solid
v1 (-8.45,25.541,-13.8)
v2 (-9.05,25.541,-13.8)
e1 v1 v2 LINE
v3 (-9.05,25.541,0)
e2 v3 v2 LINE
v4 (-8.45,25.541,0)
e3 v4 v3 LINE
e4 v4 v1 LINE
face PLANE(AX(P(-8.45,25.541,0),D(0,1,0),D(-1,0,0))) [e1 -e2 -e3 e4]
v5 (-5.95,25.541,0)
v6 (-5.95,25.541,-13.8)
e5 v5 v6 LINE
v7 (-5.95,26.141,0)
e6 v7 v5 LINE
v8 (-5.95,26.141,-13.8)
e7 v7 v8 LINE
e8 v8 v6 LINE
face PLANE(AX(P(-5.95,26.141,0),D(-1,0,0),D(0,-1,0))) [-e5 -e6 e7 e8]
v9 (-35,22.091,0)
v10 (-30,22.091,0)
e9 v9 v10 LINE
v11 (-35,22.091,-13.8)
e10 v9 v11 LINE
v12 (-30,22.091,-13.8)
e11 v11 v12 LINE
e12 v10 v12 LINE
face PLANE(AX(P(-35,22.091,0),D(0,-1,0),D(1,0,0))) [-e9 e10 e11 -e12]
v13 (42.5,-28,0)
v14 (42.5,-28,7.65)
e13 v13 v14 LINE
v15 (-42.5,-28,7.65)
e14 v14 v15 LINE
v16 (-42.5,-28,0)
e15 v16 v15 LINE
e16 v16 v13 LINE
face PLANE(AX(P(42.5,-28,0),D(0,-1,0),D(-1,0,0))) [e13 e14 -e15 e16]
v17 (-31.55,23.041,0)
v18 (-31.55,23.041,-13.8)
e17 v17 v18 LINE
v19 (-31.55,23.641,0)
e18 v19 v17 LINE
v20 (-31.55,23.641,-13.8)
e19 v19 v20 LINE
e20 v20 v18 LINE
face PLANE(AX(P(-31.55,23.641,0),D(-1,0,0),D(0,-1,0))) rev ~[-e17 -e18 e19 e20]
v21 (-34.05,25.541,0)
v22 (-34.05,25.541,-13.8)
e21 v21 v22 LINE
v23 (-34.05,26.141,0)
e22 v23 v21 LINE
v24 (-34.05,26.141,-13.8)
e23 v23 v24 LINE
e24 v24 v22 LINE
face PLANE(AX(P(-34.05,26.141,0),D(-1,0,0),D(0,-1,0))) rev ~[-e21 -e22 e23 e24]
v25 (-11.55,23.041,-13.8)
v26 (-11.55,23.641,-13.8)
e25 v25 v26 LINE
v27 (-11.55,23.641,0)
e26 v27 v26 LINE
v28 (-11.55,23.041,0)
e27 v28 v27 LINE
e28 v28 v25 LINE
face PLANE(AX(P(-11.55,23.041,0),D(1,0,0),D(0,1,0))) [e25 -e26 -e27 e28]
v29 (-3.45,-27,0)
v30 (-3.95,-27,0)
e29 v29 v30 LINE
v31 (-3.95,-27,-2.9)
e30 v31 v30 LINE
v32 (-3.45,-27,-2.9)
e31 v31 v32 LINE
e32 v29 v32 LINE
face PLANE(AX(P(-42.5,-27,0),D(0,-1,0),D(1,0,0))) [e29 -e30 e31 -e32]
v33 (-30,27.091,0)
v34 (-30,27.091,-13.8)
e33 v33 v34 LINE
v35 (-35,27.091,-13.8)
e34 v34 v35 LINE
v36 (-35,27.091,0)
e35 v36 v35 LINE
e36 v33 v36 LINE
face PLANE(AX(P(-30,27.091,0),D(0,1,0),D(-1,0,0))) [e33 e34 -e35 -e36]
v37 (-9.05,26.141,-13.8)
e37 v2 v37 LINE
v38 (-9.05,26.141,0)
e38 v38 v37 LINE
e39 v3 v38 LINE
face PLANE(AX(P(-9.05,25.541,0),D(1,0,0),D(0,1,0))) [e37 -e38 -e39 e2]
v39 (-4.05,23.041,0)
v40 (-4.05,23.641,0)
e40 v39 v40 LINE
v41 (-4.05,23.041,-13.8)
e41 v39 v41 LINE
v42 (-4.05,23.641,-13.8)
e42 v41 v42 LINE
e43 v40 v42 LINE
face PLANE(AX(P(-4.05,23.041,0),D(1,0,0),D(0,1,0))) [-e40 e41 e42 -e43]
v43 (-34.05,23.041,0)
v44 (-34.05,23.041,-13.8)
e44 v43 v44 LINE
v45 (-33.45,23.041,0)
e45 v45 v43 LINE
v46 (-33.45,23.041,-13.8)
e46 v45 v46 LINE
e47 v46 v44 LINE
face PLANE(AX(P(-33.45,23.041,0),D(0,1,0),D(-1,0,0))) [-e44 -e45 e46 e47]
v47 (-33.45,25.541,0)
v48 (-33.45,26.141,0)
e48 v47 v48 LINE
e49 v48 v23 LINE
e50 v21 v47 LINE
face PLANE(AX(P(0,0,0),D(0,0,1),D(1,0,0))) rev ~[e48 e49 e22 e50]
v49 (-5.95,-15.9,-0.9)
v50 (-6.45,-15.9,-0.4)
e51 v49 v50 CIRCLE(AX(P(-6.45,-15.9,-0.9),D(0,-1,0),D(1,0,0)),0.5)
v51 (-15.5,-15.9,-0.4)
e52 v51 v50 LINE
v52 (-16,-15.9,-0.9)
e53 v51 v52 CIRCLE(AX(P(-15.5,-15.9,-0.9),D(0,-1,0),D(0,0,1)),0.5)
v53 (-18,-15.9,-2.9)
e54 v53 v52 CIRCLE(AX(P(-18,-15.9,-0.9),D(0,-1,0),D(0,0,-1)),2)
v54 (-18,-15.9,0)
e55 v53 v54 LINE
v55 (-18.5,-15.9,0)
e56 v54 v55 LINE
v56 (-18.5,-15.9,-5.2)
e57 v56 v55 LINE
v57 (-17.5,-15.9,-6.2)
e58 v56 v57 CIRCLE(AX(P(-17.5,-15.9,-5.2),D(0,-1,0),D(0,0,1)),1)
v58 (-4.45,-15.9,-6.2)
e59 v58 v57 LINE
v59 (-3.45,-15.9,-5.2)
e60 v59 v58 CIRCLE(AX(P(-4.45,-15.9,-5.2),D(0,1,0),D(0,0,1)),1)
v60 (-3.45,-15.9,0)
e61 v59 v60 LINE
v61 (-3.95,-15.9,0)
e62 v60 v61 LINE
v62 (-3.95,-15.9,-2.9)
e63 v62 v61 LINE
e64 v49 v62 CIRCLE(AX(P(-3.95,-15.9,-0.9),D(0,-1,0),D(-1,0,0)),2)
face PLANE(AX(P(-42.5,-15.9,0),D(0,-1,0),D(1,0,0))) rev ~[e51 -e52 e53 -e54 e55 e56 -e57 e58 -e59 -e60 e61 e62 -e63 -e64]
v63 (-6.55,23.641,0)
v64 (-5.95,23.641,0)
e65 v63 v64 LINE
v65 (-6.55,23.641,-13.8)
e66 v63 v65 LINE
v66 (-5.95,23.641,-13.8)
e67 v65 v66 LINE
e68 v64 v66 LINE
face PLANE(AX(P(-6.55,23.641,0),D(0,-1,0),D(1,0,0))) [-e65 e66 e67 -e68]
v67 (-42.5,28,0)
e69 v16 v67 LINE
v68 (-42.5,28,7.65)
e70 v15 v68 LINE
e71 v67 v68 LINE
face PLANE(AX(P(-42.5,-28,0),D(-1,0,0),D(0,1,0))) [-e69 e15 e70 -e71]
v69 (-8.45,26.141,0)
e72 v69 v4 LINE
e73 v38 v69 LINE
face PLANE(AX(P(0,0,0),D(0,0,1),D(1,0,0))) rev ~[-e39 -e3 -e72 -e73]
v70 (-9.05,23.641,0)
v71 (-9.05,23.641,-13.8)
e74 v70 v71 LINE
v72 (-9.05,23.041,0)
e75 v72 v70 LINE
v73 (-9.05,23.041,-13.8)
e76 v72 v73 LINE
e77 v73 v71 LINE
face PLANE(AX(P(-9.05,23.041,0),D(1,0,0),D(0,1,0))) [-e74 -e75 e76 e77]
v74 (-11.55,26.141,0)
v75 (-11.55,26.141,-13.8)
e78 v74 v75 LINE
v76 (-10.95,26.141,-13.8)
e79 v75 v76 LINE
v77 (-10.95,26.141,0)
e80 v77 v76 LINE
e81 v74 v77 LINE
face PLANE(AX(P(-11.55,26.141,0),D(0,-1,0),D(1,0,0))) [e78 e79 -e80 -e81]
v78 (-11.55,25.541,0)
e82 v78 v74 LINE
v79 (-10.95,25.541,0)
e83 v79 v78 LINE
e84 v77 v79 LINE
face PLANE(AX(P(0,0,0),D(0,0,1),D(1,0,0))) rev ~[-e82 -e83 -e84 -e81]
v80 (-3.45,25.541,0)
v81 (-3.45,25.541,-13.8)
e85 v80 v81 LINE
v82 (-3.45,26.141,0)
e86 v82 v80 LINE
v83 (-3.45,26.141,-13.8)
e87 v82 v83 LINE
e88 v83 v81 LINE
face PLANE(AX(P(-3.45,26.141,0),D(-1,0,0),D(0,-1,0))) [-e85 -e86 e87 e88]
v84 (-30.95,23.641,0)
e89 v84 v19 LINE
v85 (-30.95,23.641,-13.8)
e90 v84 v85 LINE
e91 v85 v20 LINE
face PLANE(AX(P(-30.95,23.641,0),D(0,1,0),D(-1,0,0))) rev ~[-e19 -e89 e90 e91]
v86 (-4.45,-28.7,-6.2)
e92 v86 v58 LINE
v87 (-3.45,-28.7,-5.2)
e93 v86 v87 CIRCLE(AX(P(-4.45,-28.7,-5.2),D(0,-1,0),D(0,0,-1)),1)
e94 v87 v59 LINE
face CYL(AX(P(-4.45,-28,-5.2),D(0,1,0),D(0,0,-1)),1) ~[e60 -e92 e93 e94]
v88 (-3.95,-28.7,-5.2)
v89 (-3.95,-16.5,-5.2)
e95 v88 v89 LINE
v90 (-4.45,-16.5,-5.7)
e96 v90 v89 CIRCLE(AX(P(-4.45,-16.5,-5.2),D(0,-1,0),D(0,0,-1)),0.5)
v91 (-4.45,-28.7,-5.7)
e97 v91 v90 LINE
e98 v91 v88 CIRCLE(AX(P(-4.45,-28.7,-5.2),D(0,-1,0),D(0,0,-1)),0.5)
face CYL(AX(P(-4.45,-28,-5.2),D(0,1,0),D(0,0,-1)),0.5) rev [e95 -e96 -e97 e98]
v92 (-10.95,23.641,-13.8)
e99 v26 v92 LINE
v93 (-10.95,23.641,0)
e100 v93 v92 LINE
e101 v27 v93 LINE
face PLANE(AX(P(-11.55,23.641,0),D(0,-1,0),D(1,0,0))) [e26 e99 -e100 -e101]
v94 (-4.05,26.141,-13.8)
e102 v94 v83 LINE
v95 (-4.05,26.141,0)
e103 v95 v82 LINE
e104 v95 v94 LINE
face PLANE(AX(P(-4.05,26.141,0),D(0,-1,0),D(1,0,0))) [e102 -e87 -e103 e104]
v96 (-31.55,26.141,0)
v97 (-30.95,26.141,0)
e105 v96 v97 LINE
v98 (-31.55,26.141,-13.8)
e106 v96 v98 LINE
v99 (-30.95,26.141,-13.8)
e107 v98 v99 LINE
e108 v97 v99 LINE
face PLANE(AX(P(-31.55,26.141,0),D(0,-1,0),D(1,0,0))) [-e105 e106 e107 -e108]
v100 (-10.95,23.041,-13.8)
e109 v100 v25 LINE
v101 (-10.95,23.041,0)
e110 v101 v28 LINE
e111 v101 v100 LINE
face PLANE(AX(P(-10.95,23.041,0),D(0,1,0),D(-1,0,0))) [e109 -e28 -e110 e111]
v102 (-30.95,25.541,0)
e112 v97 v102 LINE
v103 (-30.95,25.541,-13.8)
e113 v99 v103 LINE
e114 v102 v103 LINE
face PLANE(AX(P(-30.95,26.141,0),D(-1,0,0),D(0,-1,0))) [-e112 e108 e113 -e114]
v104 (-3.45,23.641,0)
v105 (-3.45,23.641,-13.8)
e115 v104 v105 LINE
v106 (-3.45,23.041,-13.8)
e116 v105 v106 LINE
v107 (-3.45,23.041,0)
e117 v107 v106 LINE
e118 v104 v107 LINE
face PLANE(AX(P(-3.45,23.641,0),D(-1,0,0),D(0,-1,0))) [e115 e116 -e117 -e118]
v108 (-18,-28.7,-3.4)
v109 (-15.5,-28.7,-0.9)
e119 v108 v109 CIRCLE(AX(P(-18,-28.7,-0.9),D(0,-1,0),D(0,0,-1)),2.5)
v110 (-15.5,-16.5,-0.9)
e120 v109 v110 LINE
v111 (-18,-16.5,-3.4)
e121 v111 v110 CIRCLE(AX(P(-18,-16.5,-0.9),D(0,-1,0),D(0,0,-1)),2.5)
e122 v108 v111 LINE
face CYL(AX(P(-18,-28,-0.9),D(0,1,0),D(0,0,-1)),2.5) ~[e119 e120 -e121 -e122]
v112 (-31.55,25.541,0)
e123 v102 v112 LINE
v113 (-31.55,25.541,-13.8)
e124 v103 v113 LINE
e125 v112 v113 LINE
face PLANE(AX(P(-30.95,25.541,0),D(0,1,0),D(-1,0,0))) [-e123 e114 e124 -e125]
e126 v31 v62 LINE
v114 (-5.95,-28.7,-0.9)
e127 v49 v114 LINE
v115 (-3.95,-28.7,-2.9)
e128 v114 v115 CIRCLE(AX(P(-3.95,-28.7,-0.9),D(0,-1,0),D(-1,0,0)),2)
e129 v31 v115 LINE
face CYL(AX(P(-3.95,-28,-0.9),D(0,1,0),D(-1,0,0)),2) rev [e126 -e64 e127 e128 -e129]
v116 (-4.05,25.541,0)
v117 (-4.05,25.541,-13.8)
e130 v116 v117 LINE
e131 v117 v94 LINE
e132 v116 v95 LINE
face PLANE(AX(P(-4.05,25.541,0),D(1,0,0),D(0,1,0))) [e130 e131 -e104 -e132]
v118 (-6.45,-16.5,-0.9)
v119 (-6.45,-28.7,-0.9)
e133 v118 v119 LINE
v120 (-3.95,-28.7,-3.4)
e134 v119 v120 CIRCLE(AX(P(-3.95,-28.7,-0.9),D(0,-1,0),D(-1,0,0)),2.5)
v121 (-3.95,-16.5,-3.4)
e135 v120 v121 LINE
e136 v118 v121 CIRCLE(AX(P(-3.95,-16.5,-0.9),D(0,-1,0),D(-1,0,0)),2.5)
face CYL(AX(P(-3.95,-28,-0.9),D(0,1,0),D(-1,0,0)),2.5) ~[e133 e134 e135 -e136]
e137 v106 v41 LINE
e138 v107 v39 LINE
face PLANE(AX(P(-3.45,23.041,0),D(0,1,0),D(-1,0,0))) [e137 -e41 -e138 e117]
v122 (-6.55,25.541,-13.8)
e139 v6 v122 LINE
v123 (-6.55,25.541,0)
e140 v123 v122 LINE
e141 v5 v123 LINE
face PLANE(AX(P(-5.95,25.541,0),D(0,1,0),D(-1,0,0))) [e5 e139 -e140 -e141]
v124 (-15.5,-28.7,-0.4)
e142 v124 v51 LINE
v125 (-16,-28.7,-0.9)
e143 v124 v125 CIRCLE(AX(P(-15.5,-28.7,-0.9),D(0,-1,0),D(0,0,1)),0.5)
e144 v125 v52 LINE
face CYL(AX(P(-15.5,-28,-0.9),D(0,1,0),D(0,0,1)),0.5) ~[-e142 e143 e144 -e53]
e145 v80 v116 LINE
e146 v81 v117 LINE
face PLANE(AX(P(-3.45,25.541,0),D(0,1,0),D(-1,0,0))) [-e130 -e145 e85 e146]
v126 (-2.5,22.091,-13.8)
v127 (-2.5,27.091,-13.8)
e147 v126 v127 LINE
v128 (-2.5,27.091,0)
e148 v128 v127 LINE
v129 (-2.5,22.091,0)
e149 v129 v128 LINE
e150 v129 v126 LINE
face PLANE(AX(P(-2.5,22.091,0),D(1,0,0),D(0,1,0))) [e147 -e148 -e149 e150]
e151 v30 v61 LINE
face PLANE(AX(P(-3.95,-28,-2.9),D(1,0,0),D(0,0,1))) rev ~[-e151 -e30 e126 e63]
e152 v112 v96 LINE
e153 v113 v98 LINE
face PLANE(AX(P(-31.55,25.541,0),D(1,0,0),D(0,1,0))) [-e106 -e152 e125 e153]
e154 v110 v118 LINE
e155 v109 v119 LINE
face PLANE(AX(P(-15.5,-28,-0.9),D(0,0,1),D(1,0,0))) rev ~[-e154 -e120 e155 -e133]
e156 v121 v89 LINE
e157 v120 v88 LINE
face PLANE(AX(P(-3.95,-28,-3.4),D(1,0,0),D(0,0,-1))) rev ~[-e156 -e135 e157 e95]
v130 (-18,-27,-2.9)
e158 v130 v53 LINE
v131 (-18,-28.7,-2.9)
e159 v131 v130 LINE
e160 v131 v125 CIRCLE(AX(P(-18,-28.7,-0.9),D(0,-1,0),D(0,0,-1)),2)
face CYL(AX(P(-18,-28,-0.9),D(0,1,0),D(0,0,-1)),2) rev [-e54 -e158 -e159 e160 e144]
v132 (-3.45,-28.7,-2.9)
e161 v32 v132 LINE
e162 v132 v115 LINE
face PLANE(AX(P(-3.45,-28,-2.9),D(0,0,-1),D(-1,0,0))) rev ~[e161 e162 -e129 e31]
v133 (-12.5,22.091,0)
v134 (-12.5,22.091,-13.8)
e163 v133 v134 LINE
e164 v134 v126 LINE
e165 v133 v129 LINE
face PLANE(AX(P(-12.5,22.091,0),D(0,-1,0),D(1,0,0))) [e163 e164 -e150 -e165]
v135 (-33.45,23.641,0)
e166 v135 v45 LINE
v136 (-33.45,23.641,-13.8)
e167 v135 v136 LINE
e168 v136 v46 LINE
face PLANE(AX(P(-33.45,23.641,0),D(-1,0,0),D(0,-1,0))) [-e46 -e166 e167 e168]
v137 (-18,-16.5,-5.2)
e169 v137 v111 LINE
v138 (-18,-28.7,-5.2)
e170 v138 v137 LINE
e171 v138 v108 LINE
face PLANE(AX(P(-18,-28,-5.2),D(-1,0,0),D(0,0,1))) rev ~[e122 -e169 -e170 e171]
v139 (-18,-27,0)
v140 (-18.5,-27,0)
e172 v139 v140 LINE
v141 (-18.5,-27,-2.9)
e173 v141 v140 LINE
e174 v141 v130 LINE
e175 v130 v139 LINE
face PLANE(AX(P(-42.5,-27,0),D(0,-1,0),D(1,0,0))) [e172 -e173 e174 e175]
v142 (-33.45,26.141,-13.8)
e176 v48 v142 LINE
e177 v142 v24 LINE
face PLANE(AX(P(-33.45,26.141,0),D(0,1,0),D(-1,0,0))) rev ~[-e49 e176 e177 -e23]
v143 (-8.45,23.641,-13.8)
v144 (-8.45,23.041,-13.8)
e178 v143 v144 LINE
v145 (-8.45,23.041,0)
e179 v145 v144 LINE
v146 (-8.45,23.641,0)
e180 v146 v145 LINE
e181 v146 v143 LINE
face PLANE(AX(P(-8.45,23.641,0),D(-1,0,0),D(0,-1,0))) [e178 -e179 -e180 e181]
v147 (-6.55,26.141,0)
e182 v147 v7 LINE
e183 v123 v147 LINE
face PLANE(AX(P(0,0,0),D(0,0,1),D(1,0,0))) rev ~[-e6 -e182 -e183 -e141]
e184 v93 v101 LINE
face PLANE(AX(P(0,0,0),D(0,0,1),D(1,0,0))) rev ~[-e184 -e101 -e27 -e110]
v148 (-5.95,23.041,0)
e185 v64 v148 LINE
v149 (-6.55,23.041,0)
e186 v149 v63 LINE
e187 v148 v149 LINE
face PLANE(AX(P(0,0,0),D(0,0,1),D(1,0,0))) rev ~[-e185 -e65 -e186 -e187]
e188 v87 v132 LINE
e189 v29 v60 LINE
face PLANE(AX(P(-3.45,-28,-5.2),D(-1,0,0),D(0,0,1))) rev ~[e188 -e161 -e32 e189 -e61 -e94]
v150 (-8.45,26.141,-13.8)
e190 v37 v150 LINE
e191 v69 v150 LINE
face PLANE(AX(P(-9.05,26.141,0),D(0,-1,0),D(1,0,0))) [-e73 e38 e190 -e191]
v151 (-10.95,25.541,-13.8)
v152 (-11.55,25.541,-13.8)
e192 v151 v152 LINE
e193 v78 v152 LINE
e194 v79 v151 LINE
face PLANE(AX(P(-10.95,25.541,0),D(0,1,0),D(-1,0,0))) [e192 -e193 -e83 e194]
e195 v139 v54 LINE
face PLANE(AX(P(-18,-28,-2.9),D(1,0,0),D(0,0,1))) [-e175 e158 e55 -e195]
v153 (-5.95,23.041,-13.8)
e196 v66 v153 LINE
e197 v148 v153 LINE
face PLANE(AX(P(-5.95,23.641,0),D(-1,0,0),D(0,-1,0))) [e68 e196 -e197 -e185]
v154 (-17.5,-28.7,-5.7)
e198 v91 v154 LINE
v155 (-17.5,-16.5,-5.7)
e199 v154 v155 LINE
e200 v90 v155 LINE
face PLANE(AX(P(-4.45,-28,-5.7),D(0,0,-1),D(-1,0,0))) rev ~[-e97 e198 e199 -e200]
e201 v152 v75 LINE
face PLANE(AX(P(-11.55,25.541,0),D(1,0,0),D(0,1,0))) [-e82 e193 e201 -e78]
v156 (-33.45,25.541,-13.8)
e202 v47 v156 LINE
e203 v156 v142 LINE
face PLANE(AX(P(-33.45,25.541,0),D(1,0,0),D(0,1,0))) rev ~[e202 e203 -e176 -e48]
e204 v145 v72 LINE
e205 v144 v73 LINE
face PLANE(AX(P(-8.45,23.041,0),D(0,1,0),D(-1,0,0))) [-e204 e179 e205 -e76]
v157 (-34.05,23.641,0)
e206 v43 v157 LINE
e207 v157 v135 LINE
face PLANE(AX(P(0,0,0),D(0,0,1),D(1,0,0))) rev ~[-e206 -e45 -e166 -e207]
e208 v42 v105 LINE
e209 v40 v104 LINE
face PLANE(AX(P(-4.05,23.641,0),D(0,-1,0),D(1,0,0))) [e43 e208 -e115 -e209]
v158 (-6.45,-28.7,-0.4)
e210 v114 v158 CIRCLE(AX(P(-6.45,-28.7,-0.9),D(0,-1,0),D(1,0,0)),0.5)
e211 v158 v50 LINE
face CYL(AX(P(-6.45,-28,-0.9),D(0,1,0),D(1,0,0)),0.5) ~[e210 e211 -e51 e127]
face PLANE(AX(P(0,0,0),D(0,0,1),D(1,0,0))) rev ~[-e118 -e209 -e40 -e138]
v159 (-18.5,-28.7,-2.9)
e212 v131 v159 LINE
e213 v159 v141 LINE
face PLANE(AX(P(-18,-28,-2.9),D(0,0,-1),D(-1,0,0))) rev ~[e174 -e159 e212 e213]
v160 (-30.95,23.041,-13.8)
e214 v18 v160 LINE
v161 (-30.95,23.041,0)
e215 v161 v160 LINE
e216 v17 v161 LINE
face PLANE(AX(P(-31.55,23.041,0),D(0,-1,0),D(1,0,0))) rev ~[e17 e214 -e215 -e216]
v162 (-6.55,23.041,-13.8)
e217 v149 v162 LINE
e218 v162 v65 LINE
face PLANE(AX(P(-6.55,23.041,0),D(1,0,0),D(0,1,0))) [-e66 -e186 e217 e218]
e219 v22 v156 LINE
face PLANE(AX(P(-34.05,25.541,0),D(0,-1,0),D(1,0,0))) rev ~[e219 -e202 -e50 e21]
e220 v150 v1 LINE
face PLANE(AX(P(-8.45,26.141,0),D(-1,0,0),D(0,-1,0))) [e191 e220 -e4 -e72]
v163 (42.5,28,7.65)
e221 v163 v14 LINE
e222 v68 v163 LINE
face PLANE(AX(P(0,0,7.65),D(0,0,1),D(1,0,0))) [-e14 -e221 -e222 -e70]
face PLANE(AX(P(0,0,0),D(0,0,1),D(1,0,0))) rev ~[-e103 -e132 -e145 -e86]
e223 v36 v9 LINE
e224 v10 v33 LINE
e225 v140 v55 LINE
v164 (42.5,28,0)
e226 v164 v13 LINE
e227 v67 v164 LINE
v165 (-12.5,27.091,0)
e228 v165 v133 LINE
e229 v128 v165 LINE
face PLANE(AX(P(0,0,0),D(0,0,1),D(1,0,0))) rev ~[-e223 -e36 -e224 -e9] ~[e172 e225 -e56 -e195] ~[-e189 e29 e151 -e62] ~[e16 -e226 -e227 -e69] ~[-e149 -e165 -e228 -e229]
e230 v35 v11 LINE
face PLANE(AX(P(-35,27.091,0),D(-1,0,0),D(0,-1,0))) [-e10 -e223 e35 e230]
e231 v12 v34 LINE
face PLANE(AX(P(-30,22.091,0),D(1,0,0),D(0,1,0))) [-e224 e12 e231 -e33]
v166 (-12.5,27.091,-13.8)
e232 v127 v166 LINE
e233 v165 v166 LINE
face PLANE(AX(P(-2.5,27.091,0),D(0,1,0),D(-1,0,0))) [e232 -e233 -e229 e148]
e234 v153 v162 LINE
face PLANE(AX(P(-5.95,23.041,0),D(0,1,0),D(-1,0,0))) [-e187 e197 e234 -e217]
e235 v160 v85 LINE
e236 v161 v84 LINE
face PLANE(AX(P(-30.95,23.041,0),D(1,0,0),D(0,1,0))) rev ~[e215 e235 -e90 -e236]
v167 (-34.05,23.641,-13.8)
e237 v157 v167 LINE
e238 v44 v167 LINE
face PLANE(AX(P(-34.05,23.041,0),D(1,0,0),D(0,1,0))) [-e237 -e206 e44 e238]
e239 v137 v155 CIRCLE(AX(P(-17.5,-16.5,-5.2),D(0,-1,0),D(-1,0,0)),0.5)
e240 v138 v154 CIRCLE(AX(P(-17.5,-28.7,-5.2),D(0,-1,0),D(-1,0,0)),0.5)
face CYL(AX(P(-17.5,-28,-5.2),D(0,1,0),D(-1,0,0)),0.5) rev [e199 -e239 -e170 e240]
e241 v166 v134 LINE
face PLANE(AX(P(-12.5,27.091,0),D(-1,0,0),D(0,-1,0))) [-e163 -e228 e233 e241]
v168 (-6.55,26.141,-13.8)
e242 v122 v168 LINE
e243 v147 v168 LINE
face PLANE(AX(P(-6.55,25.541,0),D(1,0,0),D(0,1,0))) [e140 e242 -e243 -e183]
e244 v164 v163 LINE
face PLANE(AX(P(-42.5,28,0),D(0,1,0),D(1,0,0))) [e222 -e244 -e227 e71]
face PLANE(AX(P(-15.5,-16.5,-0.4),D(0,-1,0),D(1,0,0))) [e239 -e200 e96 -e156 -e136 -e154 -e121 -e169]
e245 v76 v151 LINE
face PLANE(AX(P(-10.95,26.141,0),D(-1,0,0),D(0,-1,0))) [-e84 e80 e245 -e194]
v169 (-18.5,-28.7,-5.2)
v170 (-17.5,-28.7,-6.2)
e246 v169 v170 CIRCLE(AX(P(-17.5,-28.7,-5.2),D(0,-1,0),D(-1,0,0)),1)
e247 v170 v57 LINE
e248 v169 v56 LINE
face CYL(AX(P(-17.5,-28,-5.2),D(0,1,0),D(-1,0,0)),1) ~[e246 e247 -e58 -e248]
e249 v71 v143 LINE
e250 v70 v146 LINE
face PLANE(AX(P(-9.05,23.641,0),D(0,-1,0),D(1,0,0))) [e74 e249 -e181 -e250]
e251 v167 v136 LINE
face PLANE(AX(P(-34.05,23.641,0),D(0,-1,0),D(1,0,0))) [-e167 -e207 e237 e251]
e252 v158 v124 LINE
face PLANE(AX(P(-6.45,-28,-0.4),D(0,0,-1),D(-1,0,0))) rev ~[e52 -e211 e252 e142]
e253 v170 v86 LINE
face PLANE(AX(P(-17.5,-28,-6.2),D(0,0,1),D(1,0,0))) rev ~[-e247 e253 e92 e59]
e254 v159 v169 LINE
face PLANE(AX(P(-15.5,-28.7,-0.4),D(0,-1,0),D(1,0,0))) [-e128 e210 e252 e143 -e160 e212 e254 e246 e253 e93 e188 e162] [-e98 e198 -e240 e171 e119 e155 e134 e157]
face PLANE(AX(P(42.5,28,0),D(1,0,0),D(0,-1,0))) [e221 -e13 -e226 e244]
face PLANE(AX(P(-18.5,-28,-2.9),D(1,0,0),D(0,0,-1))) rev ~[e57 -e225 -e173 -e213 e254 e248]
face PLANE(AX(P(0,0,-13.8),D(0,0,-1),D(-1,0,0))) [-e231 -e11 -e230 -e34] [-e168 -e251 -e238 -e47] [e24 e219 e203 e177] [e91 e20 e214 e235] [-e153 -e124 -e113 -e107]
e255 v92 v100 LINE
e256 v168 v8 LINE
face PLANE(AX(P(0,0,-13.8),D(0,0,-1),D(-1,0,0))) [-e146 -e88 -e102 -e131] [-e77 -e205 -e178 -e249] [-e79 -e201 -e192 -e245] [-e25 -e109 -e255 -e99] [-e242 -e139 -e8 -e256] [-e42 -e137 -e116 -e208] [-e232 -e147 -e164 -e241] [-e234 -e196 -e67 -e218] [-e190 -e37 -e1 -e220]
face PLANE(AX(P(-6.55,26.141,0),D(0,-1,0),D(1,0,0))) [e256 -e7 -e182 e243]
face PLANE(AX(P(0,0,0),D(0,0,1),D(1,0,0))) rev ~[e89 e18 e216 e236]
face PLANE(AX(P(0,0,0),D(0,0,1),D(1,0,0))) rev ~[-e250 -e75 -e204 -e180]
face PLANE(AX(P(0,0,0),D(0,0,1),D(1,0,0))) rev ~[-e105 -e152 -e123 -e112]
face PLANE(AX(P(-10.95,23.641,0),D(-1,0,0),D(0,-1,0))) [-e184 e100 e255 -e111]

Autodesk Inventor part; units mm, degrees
ref_plane "YZ Plane" through (0, 0, 0) normal (1, 0, 0) x (0, 1, 0)
ref_plane "XZ Plane" through (0, 0, 0) normal (0, 1, 0) x (-1, 0, 0)
ref_plane "XY Plane" through (0, 0, 0) normal (0, 0, 1) x (1, 0, 0)
sketch "스케치2" plane through (0, 0, 0) normal (0, 0, 1) x (1, 0, 0)
  line L0 (-42.5, 28) -> (42.5, 28)
  line L1 (42.5, 28) -> (42.5, -28)
  line L2 (42.5, -28) -> (-42.5, -28)
  line L3 (-42.5, -28) -> (-42.5, 28)
  line L4 (-42.5, 28) -> (42.5, -28) construction
  line L5 (42.5, 28) -> (-42.5, -28) construction
  point P0 (0, 0)
  dimension "d6" = 85
  dimension "d7" = 56
extrude "돌출2" add sketch "스케치2" along normal blind 7.65
sketch "스케치4" plane through (0, 0, 0) normal (0, 0, -1) x (-1, 0, 0)
  line L0 (30, 27.091) -> (35, 27.091)
  line L1 (35, 27.091) -> (35, 22.091)
  line L2 (35, 22.091) -> (30, 22.091)
  line L3 (30, 22.091) -> (30, 27.091)
  line L4 (30, 27.091) -> (35, 22.091) construction
  line L5 (35, 27.091) -> (30, 22.091) construction
  line L6 (-42.5, 28) -> (42.5, 28) projected
  line L7 (-42.5, -28) -> (-42.5, 28) projected
  line L8 (30.95, 25.541) -> (31.55, 25.541)
  line L9 (31.55, 25.541) -> (31.55, 26.141)
  line L10 (31.55, 26.141) -> (30.95, 26.141)
  line L11 (30.95, 26.141) -> (30.95, 25.541)
  line L12 (30.95, 25.541) -> (31.55, 26.141) construction
  line L13 (31.55, 25.541) -> (30.95, 26.141) construction
  line L14 (32.5, 24.591) -> (32.5, 25.0687)
  line L15 (32.5, 24.591) -> (32.0223, 24.591)
  line L16 (34.05, 25.541) -> (33.45, 25.541)
  line L17 (33.45, 25.541) -> (33.45, 26.141)
  line L18 (33.45, 26.141) -> (34.05, 26.141)
  line L19 (34.05, 26.141) -> (34.05, 25.541)
  line L20 (34.05, 25.541) -> (33.45, 26.141) construction
  line L21 (33.45, 25.541) -> (34.05, 26.141) construction
  line L22 (30.95, 23.641) -> (31.55, 23.641)
  line L23 (31.55, 23.641) -> (31.55, 23.041)
  line L24 (31.55, 23.041) -> (30.95, 23.041)
  line L25 (30.95, 23.041) -> (30.95, 23.641)
  line L26 (30.95, 23.641) -> (31.55, 23.041) construction
  line L27 (31.55, 23.641) -> (30.95, 23.041) construction
  line L28 (34.05, 23.641) -> (33.45, 23.641)
  line L29 (33.45, 23.641) -> (33.45, 23.041)
  line L30 (33.45, 23.041) -> (34.05, 23.041)
  line L31 (34.05, 23.041) -> (34.05, 23.641)
  line L32 (34.05, 23.641) -> (33.45, 23.041) construction
  line L33 (33.45, 23.641) -> (34.05, 23.041) construction
  line L34 (42.5, 28) -> (42.5, -28) projected
  line L35 (12.5, 22.091) -> (2.5, 22.091)
  line L36 (2.5, 22.091) -> (2.5, 27.091)
  line L37 (2.5, 27.091) -> (12.5, 27.091)
  line L38 (12.5, 27.091) -> (12.5, 22.091)
  line L39 (12.5, 22.091) -> (2.5, 27.091) construction
  line L40 (2.5, 22.091) -> (12.5, 27.091) construction
  line L41 (11.55, 23.641) -> (10.95, 23.641)
  line L42 (10.95, 23.641) -> (10.95, 23.041)
  line L43 (10.95, 23.041) -> (11.55, 23.041)
  line L44 (11.55, 23.041) -> (11.55, 23.641)
  line L45 (11.55, 23.641) -> (10.95, 23.041) construction
  line L46 (10.95, 23.641) -> (11.55, 23.041) construction
  line L47 (11.55, 25.541) -> (11.55, 26.141)
  line L48 (10.95, 26.141) -> (10.95, 25.541)
  line L49 (10.95, 25.541) -> (11.55, 25.541)
  line L50 (11.55, 26.141) -> (10.95, 26.141)
  line L51 (11.55, 26.141) -> (10.95, 25.541) construction
  line L52 (10.95, 26.141) -> (11.55, 25.541) construction
  line L53 (9.05, 23.041) -> (9.05, 23.641)
  line L54 (8.45, 23.641) -> (8.45, 23.041)
  line L55 (8.45, 23.041) -> (9.05, 23.041)
  line L56 (9.05, 23.641) -> (8.45, 23.641)
  line L57 (9.05, 23.641) -> (8.45, 23.041) construction
  line L58 (8.45, 23.641) -> (9.05, 23.041) construction
  line L59 (9.05, 25.541) -> (9.05, 26.141)
  line L60 (8.45, 26.141) -> (8.45, 25.541)
  line L61 (8.45, 25.541) -> (9.05, 25.541)
  line L62 (9.05, 26.141) -> (8.45, 26.141)
  line L63 (9.05, 26.141) -> (8.45, 25.541) construction
  line L64 (8.45, 26.141) -> (9.05, 25.541) construction
  line L65 (6.55, 23.041) -> (6.55, 23.641)
  line L66 (5.95, 23.641) -> (5.95, 23.041)
  line L67 (5.95, 23.041) -> (6.55, 23.041)
  line L68 (6.55, 23.641) -> (5.95, 23.641)
  line L69 (6.55, 23.641) -> (5.95, 23.041) construction
  line L70 (5.95, 23.641) -> (6.55, 23.041) construction
  line L71 (6.55, 25.541) -> (6.55, 26.141)
  line L72 (5.95, 26.141) -> (5.95, 25.541)
  line L73 (5.95, 25.541) -> (6.55, 25.541)
  line L74 (6.55, 26.141) -> (5.95, 26.141)
  line L75 (6.55, 26.141) -> (5.95, 25.541) construction
  line L76 (5.95, 26.141) -> (6.55, 25.541) construction
  line L77 (4.05, 23.041) -> (4.05, 23.641)
  line L78 (3.45, 23.641) -> (3.45, 23.041)
  line L79 (3.45, 23.041) -> (4.05, 23.041)
  line L80 (4.05, 23.641) -> (3.45, 23.641)
  line L81 (4.05, 23.641) -> (3.45, 23.041) construction
  line L82 (3.45, 23.641) -> (4.05, 23.041) construction
  line L83 (4.05, 25.541) -> (4.05, 26.141)
  line L84 (3.45, 26.141) -> (3.45, 25.541)
  line L85 (3.45, 25.541) -> (4.05, 25.541)
  line L86 (4.05, 26.141) -> (3.45, 26.141)
  line L87 (4.05, 26.141) -> (3.45, 25.541) construction
  line L88 (3.45, 26.141) -> (4.05, 25.541) construction
  point P0 (0, 0)
  point P1 (31.25, 25.841)
  point P2 (33.75, 25.841)
  point P3 (31.25, 23.341)
  point P4 (33.75, 23.341)
  point P5 (7.5, 24.591)
  point P6 (11.25, 23.341)
  point P7 (11.25, 25.841)
  point P8 (8.75, 23.341)
  point P9 (8.75, 25.841)
  point P10 (6.25, 23.341)
  point P11 (6.25, 25.841)
  point P12 (3.75, 23.341)
  point P13 (3.75, 25.841)
  dimension "d12" = 5
  dimension "d13" = 5
  dimension "d14" = 0.6
  dimension "d15" = 0.6
  dimension "d18" = 1.25
  dimension "d19" = 7.5
  dimension "d20" = 0.909
  dimension "d21" = 5
  dimension "d22" = 10
  dimension "d23" = 17.5
  dimension "d24" = 0.909
  dimension "d25" = 0.6
  dimension "d26" = 0.6
  dimension "d27" = 1.25
  dimension "d28" = 1.25
  dimension "d31" = 2.5
  dimension "d34" = 2.5
extrude "돌출3" add sketch "스케치4" along normal blind 13.8
sketch "스케치5" plane through (-42.5, -28, 0) normal (0, -1, 0) x (1, 0, 0)
  line L0 (85, 0) -> (0, 0) projected
  line L1 (24, 0) -> (39.15, 0)
  line L2 (39.15, 0) -> (39.15, -6.2)
  line L3 (39.15, -6.2) -> (24, -6.2)
  line L4 (24, -6.2) -> (24, 0)
  line L5 (0, 0) -> (0, 7.65) projected
  line L6 (24, -2.9) -> (24.5, -2.9)
  line L7 (26.5, -0.9) -> (26.5, -0.9)
  line L8 (27, -0.4) -> (36.05, -0.4)
  line L9 (36.55, 0) -> (36.55, -13.8) construction
  line L10 (36.55, -0.9) -> (36.55, -0.9)
  line L11 (38.55, -2.9) -> (39.05, -2.9)
  line L12 (39.05, 0) -> (39.05, -13.8) projected
  arc A0 (24.5, -2.9) -> (26.5, -0.9) centre (24.5, -0.9) ccw
  arc A1 (36.55, -0.9) -> (38.55, -2.9) centre (38.55, -0.9) ccw
  arc A2 (27, -0.4) -> (26.5, -0.9) centre (27, -0.9) ccw
  arc A3 (36.55, -0.9) -> (36.05, -0.4) centre (36.05, -0.9) ccw
  line L13 (24.5, -2.9) -> (24.5, 0.0781)
  line L14 (38.55, -2.9) -> (38.55, 0)
  point P0 (42.5, 0)
  point P1 (26.5, -2.9)
  point P2 (26.5, -0.4)
  point P3 (36.55, -2.9)
  point P4 (36.55, -0.9)
  point P5 (26.5, -0.9)
  point P6 (24.5, 0)
  point P7 (39.05, -6.2)
  dimension "d37" = 24
  dimension "d38" = 15.15
  dimension "d39" = 6.2
  dimension "d40" = 2.5
  dimension "d41" = 2.5
  dimension "d42" = 3.3
  dimension "d43" = 2.5
  dimension "d44" = 2
  dimension "d45" = 0.5
extrude "돌출4" add sketch "스케치5" against normal blind 12.1 contours L12 L11 L14 L0 | L12 L3 L4 L6 A0 A2 L8 A3 A1 L11 | L13 L6 L4 L0
fillet "모깎기1" radius 1 2 edges at (-18.5, -21.95, -6.2) (-3.45, -21.95, -6.2)
extrude "돌출5" cut sketch "스케치5" against normal blind 1 contours L12 L11 L14 L0 | L13 L6 L4 L0
sketch "스케치6" plane through (-15.5, -28, -0.4) normal (0, -1, 0) x (1, 0, 0)
  line L0 (12.05, -2.5) -> (11.55, -2.5) projected
  arc A0 (9.55, -0.5) -> (11.55, -2.5) centre (11.55, -0.5) ccw projected
  arc A1 (9.55, -0.5) -> (9.05, 0) centre (9.05, -0.5) ccw projected
  line L1 (9.05, 0) -> (0, 0) projected
  arc A2 (0, 0) -> (-0.5, -0.5) centre (0, -0.5) ccw projected
  arc A3 (-2.5, -2.5) -> (-0.5, -0.5) centre (-2.5, -0.5) ccw projected
  line L2 (-2.5, -2.5) -> (-3, -2.5) projected
  line L3 (-3, -2.5) -> (-3, -4.8) projected
  arc A4 (-3, -4.8) -> (-2, -5.8) centre (-2, -4.8) ccw projected
  line L4 (-2, -5.8) -> (11.05, -5.8) projected
  arc A5 (11.05, -5.8) -> (12.05, -4.8) centre (11.05, -4.8) ccw projected
  line L5 (12.05, -4.8) -> (12.05, -2.5) projected
  line L6 (-2.5, -4.8) -> (-2.5, -3)
  line L7 (-2.5, -3) -> (-2.5, -3)
  arc A6 (-2.5, -3) -> (0, -0.5) centre (-2.5, -0.5) ccw
  line L8 (0, -0.5) -> (9.05, -0.5)
  arc A7 (9.05, -0.5) -> (11.55, -3) centre (11.55, -0.5) ccw
  line L9 (11.55, -3) -> (11.55, -3)
  line L10 (11.55, -3) -> (11.55, -4.8)
  arc A8 (11.05, -5.3) -> (11.55, -4.8) centre (11.05, -4.8) ccw
  line L11 (11.05, -5.3) -> (-2, -5.3)
  arc A9 (-2.5, -4.8) -> (-2, -5.3) centre (-2, -4.8) ccw
  point P0 (15.5, 0.4)
  point P1 (11.55, -3)
  point P2 (9.05, -0.5)
  point P3 (0, -0.5)
  point P4 (-2.5, -3)
  dimension "d51" = 0.5
extrude "돌출6" cut sketch "스케치6" against normal blind 11.5 contours L6 A6 L8 A7 L10 A8 L11 A9
sketch "스케치7" plane through (-15.5, -28, -0.4) normal (0, -1, 0) x (1, 0, 0)
  arc A0 (9.05, -0.5) -> (11.55, -3) centre (11.55, -0.5) ccw projected
  line L0 (11.55, -3) -> (11.55, -4.8) projected
  arc A1 (11.05, -5.3) -> (11.55, -4.8) centre (11.05, -4.8) ccw projected
  line L1 (11.05, -5.3) -> (-2, -5.3) projected
  arc A2 (-2.5, -4.8) -> (-2, -5.3) centre (-2, -4.8) ccw projected
  line L2 (-2.5, -4.8) -> (-2.5, -3) projected
  arc A3 (-2.5, -3) -> (0, -0.5) centre (-2.5, -0.5) ccw projected
  line L3 (0, -0.5) -> (9.05, -0.5) projected
  line L4 (12.05, -2.5) -> (11.55, -2.5) projected
  arc A4 (9.55, -0.5) -> (11.55, -2.5) centre (11.55, -0.5) ccw projected
  arc A5 (9.55, -0.5) -> (9.05, 0) centre (9.05, -0.5) ccw projected
  line L5 (9.05, 0) -> (0, 0) projected
  arc A6 (0, 0) -> (-0.5, -0.5) centre (0, -0.5) ccw projected
  arc A7 (-2.5, -2.5) -> (-0.5, -0.5) centre (-2.5, -0.5) ccw projected
  line L6 (-2.5, -2.5) -> (-3, -2.5) projected
  line L7 (-3, -2.5) -> (-3, -4.8) projected
  arc A8 (-3, -4.8) -> (-2, -5.8) centre (-2, -4.8) ccw projected
  line L8 (-2, -5.8) -> (11.05, -5.8) projected
  arc A9 (11.05, -5.8) -> (12.05, -4.8) centre (11.05, -4.8) ccw projected
  line L9 (12.05, -4.8) -> (12.05, -2.5) projected
  point P0 (15.5, 0.4)
extrude "돌출7" add sketch "스케치7" along normal blind 0.7
sketch "스케치9" plane through (0, 0, 7.65) normal (0, 0, 1) x (1, 0, 0)
  line L0 (-42.5753, 28.643) -> (43.0741, 28.643) construction
  line L1 (43.0741, 28.643) -> (43.0741, -28.4566) construction
  line L2 (43.0741, -28.4566) -> (-42.5753, -28.4566) construction
  line L3 (-42.5753, -28.4566) -> (-42.5753, 28.643) construction
properties part number "lcd 디스플레이"
